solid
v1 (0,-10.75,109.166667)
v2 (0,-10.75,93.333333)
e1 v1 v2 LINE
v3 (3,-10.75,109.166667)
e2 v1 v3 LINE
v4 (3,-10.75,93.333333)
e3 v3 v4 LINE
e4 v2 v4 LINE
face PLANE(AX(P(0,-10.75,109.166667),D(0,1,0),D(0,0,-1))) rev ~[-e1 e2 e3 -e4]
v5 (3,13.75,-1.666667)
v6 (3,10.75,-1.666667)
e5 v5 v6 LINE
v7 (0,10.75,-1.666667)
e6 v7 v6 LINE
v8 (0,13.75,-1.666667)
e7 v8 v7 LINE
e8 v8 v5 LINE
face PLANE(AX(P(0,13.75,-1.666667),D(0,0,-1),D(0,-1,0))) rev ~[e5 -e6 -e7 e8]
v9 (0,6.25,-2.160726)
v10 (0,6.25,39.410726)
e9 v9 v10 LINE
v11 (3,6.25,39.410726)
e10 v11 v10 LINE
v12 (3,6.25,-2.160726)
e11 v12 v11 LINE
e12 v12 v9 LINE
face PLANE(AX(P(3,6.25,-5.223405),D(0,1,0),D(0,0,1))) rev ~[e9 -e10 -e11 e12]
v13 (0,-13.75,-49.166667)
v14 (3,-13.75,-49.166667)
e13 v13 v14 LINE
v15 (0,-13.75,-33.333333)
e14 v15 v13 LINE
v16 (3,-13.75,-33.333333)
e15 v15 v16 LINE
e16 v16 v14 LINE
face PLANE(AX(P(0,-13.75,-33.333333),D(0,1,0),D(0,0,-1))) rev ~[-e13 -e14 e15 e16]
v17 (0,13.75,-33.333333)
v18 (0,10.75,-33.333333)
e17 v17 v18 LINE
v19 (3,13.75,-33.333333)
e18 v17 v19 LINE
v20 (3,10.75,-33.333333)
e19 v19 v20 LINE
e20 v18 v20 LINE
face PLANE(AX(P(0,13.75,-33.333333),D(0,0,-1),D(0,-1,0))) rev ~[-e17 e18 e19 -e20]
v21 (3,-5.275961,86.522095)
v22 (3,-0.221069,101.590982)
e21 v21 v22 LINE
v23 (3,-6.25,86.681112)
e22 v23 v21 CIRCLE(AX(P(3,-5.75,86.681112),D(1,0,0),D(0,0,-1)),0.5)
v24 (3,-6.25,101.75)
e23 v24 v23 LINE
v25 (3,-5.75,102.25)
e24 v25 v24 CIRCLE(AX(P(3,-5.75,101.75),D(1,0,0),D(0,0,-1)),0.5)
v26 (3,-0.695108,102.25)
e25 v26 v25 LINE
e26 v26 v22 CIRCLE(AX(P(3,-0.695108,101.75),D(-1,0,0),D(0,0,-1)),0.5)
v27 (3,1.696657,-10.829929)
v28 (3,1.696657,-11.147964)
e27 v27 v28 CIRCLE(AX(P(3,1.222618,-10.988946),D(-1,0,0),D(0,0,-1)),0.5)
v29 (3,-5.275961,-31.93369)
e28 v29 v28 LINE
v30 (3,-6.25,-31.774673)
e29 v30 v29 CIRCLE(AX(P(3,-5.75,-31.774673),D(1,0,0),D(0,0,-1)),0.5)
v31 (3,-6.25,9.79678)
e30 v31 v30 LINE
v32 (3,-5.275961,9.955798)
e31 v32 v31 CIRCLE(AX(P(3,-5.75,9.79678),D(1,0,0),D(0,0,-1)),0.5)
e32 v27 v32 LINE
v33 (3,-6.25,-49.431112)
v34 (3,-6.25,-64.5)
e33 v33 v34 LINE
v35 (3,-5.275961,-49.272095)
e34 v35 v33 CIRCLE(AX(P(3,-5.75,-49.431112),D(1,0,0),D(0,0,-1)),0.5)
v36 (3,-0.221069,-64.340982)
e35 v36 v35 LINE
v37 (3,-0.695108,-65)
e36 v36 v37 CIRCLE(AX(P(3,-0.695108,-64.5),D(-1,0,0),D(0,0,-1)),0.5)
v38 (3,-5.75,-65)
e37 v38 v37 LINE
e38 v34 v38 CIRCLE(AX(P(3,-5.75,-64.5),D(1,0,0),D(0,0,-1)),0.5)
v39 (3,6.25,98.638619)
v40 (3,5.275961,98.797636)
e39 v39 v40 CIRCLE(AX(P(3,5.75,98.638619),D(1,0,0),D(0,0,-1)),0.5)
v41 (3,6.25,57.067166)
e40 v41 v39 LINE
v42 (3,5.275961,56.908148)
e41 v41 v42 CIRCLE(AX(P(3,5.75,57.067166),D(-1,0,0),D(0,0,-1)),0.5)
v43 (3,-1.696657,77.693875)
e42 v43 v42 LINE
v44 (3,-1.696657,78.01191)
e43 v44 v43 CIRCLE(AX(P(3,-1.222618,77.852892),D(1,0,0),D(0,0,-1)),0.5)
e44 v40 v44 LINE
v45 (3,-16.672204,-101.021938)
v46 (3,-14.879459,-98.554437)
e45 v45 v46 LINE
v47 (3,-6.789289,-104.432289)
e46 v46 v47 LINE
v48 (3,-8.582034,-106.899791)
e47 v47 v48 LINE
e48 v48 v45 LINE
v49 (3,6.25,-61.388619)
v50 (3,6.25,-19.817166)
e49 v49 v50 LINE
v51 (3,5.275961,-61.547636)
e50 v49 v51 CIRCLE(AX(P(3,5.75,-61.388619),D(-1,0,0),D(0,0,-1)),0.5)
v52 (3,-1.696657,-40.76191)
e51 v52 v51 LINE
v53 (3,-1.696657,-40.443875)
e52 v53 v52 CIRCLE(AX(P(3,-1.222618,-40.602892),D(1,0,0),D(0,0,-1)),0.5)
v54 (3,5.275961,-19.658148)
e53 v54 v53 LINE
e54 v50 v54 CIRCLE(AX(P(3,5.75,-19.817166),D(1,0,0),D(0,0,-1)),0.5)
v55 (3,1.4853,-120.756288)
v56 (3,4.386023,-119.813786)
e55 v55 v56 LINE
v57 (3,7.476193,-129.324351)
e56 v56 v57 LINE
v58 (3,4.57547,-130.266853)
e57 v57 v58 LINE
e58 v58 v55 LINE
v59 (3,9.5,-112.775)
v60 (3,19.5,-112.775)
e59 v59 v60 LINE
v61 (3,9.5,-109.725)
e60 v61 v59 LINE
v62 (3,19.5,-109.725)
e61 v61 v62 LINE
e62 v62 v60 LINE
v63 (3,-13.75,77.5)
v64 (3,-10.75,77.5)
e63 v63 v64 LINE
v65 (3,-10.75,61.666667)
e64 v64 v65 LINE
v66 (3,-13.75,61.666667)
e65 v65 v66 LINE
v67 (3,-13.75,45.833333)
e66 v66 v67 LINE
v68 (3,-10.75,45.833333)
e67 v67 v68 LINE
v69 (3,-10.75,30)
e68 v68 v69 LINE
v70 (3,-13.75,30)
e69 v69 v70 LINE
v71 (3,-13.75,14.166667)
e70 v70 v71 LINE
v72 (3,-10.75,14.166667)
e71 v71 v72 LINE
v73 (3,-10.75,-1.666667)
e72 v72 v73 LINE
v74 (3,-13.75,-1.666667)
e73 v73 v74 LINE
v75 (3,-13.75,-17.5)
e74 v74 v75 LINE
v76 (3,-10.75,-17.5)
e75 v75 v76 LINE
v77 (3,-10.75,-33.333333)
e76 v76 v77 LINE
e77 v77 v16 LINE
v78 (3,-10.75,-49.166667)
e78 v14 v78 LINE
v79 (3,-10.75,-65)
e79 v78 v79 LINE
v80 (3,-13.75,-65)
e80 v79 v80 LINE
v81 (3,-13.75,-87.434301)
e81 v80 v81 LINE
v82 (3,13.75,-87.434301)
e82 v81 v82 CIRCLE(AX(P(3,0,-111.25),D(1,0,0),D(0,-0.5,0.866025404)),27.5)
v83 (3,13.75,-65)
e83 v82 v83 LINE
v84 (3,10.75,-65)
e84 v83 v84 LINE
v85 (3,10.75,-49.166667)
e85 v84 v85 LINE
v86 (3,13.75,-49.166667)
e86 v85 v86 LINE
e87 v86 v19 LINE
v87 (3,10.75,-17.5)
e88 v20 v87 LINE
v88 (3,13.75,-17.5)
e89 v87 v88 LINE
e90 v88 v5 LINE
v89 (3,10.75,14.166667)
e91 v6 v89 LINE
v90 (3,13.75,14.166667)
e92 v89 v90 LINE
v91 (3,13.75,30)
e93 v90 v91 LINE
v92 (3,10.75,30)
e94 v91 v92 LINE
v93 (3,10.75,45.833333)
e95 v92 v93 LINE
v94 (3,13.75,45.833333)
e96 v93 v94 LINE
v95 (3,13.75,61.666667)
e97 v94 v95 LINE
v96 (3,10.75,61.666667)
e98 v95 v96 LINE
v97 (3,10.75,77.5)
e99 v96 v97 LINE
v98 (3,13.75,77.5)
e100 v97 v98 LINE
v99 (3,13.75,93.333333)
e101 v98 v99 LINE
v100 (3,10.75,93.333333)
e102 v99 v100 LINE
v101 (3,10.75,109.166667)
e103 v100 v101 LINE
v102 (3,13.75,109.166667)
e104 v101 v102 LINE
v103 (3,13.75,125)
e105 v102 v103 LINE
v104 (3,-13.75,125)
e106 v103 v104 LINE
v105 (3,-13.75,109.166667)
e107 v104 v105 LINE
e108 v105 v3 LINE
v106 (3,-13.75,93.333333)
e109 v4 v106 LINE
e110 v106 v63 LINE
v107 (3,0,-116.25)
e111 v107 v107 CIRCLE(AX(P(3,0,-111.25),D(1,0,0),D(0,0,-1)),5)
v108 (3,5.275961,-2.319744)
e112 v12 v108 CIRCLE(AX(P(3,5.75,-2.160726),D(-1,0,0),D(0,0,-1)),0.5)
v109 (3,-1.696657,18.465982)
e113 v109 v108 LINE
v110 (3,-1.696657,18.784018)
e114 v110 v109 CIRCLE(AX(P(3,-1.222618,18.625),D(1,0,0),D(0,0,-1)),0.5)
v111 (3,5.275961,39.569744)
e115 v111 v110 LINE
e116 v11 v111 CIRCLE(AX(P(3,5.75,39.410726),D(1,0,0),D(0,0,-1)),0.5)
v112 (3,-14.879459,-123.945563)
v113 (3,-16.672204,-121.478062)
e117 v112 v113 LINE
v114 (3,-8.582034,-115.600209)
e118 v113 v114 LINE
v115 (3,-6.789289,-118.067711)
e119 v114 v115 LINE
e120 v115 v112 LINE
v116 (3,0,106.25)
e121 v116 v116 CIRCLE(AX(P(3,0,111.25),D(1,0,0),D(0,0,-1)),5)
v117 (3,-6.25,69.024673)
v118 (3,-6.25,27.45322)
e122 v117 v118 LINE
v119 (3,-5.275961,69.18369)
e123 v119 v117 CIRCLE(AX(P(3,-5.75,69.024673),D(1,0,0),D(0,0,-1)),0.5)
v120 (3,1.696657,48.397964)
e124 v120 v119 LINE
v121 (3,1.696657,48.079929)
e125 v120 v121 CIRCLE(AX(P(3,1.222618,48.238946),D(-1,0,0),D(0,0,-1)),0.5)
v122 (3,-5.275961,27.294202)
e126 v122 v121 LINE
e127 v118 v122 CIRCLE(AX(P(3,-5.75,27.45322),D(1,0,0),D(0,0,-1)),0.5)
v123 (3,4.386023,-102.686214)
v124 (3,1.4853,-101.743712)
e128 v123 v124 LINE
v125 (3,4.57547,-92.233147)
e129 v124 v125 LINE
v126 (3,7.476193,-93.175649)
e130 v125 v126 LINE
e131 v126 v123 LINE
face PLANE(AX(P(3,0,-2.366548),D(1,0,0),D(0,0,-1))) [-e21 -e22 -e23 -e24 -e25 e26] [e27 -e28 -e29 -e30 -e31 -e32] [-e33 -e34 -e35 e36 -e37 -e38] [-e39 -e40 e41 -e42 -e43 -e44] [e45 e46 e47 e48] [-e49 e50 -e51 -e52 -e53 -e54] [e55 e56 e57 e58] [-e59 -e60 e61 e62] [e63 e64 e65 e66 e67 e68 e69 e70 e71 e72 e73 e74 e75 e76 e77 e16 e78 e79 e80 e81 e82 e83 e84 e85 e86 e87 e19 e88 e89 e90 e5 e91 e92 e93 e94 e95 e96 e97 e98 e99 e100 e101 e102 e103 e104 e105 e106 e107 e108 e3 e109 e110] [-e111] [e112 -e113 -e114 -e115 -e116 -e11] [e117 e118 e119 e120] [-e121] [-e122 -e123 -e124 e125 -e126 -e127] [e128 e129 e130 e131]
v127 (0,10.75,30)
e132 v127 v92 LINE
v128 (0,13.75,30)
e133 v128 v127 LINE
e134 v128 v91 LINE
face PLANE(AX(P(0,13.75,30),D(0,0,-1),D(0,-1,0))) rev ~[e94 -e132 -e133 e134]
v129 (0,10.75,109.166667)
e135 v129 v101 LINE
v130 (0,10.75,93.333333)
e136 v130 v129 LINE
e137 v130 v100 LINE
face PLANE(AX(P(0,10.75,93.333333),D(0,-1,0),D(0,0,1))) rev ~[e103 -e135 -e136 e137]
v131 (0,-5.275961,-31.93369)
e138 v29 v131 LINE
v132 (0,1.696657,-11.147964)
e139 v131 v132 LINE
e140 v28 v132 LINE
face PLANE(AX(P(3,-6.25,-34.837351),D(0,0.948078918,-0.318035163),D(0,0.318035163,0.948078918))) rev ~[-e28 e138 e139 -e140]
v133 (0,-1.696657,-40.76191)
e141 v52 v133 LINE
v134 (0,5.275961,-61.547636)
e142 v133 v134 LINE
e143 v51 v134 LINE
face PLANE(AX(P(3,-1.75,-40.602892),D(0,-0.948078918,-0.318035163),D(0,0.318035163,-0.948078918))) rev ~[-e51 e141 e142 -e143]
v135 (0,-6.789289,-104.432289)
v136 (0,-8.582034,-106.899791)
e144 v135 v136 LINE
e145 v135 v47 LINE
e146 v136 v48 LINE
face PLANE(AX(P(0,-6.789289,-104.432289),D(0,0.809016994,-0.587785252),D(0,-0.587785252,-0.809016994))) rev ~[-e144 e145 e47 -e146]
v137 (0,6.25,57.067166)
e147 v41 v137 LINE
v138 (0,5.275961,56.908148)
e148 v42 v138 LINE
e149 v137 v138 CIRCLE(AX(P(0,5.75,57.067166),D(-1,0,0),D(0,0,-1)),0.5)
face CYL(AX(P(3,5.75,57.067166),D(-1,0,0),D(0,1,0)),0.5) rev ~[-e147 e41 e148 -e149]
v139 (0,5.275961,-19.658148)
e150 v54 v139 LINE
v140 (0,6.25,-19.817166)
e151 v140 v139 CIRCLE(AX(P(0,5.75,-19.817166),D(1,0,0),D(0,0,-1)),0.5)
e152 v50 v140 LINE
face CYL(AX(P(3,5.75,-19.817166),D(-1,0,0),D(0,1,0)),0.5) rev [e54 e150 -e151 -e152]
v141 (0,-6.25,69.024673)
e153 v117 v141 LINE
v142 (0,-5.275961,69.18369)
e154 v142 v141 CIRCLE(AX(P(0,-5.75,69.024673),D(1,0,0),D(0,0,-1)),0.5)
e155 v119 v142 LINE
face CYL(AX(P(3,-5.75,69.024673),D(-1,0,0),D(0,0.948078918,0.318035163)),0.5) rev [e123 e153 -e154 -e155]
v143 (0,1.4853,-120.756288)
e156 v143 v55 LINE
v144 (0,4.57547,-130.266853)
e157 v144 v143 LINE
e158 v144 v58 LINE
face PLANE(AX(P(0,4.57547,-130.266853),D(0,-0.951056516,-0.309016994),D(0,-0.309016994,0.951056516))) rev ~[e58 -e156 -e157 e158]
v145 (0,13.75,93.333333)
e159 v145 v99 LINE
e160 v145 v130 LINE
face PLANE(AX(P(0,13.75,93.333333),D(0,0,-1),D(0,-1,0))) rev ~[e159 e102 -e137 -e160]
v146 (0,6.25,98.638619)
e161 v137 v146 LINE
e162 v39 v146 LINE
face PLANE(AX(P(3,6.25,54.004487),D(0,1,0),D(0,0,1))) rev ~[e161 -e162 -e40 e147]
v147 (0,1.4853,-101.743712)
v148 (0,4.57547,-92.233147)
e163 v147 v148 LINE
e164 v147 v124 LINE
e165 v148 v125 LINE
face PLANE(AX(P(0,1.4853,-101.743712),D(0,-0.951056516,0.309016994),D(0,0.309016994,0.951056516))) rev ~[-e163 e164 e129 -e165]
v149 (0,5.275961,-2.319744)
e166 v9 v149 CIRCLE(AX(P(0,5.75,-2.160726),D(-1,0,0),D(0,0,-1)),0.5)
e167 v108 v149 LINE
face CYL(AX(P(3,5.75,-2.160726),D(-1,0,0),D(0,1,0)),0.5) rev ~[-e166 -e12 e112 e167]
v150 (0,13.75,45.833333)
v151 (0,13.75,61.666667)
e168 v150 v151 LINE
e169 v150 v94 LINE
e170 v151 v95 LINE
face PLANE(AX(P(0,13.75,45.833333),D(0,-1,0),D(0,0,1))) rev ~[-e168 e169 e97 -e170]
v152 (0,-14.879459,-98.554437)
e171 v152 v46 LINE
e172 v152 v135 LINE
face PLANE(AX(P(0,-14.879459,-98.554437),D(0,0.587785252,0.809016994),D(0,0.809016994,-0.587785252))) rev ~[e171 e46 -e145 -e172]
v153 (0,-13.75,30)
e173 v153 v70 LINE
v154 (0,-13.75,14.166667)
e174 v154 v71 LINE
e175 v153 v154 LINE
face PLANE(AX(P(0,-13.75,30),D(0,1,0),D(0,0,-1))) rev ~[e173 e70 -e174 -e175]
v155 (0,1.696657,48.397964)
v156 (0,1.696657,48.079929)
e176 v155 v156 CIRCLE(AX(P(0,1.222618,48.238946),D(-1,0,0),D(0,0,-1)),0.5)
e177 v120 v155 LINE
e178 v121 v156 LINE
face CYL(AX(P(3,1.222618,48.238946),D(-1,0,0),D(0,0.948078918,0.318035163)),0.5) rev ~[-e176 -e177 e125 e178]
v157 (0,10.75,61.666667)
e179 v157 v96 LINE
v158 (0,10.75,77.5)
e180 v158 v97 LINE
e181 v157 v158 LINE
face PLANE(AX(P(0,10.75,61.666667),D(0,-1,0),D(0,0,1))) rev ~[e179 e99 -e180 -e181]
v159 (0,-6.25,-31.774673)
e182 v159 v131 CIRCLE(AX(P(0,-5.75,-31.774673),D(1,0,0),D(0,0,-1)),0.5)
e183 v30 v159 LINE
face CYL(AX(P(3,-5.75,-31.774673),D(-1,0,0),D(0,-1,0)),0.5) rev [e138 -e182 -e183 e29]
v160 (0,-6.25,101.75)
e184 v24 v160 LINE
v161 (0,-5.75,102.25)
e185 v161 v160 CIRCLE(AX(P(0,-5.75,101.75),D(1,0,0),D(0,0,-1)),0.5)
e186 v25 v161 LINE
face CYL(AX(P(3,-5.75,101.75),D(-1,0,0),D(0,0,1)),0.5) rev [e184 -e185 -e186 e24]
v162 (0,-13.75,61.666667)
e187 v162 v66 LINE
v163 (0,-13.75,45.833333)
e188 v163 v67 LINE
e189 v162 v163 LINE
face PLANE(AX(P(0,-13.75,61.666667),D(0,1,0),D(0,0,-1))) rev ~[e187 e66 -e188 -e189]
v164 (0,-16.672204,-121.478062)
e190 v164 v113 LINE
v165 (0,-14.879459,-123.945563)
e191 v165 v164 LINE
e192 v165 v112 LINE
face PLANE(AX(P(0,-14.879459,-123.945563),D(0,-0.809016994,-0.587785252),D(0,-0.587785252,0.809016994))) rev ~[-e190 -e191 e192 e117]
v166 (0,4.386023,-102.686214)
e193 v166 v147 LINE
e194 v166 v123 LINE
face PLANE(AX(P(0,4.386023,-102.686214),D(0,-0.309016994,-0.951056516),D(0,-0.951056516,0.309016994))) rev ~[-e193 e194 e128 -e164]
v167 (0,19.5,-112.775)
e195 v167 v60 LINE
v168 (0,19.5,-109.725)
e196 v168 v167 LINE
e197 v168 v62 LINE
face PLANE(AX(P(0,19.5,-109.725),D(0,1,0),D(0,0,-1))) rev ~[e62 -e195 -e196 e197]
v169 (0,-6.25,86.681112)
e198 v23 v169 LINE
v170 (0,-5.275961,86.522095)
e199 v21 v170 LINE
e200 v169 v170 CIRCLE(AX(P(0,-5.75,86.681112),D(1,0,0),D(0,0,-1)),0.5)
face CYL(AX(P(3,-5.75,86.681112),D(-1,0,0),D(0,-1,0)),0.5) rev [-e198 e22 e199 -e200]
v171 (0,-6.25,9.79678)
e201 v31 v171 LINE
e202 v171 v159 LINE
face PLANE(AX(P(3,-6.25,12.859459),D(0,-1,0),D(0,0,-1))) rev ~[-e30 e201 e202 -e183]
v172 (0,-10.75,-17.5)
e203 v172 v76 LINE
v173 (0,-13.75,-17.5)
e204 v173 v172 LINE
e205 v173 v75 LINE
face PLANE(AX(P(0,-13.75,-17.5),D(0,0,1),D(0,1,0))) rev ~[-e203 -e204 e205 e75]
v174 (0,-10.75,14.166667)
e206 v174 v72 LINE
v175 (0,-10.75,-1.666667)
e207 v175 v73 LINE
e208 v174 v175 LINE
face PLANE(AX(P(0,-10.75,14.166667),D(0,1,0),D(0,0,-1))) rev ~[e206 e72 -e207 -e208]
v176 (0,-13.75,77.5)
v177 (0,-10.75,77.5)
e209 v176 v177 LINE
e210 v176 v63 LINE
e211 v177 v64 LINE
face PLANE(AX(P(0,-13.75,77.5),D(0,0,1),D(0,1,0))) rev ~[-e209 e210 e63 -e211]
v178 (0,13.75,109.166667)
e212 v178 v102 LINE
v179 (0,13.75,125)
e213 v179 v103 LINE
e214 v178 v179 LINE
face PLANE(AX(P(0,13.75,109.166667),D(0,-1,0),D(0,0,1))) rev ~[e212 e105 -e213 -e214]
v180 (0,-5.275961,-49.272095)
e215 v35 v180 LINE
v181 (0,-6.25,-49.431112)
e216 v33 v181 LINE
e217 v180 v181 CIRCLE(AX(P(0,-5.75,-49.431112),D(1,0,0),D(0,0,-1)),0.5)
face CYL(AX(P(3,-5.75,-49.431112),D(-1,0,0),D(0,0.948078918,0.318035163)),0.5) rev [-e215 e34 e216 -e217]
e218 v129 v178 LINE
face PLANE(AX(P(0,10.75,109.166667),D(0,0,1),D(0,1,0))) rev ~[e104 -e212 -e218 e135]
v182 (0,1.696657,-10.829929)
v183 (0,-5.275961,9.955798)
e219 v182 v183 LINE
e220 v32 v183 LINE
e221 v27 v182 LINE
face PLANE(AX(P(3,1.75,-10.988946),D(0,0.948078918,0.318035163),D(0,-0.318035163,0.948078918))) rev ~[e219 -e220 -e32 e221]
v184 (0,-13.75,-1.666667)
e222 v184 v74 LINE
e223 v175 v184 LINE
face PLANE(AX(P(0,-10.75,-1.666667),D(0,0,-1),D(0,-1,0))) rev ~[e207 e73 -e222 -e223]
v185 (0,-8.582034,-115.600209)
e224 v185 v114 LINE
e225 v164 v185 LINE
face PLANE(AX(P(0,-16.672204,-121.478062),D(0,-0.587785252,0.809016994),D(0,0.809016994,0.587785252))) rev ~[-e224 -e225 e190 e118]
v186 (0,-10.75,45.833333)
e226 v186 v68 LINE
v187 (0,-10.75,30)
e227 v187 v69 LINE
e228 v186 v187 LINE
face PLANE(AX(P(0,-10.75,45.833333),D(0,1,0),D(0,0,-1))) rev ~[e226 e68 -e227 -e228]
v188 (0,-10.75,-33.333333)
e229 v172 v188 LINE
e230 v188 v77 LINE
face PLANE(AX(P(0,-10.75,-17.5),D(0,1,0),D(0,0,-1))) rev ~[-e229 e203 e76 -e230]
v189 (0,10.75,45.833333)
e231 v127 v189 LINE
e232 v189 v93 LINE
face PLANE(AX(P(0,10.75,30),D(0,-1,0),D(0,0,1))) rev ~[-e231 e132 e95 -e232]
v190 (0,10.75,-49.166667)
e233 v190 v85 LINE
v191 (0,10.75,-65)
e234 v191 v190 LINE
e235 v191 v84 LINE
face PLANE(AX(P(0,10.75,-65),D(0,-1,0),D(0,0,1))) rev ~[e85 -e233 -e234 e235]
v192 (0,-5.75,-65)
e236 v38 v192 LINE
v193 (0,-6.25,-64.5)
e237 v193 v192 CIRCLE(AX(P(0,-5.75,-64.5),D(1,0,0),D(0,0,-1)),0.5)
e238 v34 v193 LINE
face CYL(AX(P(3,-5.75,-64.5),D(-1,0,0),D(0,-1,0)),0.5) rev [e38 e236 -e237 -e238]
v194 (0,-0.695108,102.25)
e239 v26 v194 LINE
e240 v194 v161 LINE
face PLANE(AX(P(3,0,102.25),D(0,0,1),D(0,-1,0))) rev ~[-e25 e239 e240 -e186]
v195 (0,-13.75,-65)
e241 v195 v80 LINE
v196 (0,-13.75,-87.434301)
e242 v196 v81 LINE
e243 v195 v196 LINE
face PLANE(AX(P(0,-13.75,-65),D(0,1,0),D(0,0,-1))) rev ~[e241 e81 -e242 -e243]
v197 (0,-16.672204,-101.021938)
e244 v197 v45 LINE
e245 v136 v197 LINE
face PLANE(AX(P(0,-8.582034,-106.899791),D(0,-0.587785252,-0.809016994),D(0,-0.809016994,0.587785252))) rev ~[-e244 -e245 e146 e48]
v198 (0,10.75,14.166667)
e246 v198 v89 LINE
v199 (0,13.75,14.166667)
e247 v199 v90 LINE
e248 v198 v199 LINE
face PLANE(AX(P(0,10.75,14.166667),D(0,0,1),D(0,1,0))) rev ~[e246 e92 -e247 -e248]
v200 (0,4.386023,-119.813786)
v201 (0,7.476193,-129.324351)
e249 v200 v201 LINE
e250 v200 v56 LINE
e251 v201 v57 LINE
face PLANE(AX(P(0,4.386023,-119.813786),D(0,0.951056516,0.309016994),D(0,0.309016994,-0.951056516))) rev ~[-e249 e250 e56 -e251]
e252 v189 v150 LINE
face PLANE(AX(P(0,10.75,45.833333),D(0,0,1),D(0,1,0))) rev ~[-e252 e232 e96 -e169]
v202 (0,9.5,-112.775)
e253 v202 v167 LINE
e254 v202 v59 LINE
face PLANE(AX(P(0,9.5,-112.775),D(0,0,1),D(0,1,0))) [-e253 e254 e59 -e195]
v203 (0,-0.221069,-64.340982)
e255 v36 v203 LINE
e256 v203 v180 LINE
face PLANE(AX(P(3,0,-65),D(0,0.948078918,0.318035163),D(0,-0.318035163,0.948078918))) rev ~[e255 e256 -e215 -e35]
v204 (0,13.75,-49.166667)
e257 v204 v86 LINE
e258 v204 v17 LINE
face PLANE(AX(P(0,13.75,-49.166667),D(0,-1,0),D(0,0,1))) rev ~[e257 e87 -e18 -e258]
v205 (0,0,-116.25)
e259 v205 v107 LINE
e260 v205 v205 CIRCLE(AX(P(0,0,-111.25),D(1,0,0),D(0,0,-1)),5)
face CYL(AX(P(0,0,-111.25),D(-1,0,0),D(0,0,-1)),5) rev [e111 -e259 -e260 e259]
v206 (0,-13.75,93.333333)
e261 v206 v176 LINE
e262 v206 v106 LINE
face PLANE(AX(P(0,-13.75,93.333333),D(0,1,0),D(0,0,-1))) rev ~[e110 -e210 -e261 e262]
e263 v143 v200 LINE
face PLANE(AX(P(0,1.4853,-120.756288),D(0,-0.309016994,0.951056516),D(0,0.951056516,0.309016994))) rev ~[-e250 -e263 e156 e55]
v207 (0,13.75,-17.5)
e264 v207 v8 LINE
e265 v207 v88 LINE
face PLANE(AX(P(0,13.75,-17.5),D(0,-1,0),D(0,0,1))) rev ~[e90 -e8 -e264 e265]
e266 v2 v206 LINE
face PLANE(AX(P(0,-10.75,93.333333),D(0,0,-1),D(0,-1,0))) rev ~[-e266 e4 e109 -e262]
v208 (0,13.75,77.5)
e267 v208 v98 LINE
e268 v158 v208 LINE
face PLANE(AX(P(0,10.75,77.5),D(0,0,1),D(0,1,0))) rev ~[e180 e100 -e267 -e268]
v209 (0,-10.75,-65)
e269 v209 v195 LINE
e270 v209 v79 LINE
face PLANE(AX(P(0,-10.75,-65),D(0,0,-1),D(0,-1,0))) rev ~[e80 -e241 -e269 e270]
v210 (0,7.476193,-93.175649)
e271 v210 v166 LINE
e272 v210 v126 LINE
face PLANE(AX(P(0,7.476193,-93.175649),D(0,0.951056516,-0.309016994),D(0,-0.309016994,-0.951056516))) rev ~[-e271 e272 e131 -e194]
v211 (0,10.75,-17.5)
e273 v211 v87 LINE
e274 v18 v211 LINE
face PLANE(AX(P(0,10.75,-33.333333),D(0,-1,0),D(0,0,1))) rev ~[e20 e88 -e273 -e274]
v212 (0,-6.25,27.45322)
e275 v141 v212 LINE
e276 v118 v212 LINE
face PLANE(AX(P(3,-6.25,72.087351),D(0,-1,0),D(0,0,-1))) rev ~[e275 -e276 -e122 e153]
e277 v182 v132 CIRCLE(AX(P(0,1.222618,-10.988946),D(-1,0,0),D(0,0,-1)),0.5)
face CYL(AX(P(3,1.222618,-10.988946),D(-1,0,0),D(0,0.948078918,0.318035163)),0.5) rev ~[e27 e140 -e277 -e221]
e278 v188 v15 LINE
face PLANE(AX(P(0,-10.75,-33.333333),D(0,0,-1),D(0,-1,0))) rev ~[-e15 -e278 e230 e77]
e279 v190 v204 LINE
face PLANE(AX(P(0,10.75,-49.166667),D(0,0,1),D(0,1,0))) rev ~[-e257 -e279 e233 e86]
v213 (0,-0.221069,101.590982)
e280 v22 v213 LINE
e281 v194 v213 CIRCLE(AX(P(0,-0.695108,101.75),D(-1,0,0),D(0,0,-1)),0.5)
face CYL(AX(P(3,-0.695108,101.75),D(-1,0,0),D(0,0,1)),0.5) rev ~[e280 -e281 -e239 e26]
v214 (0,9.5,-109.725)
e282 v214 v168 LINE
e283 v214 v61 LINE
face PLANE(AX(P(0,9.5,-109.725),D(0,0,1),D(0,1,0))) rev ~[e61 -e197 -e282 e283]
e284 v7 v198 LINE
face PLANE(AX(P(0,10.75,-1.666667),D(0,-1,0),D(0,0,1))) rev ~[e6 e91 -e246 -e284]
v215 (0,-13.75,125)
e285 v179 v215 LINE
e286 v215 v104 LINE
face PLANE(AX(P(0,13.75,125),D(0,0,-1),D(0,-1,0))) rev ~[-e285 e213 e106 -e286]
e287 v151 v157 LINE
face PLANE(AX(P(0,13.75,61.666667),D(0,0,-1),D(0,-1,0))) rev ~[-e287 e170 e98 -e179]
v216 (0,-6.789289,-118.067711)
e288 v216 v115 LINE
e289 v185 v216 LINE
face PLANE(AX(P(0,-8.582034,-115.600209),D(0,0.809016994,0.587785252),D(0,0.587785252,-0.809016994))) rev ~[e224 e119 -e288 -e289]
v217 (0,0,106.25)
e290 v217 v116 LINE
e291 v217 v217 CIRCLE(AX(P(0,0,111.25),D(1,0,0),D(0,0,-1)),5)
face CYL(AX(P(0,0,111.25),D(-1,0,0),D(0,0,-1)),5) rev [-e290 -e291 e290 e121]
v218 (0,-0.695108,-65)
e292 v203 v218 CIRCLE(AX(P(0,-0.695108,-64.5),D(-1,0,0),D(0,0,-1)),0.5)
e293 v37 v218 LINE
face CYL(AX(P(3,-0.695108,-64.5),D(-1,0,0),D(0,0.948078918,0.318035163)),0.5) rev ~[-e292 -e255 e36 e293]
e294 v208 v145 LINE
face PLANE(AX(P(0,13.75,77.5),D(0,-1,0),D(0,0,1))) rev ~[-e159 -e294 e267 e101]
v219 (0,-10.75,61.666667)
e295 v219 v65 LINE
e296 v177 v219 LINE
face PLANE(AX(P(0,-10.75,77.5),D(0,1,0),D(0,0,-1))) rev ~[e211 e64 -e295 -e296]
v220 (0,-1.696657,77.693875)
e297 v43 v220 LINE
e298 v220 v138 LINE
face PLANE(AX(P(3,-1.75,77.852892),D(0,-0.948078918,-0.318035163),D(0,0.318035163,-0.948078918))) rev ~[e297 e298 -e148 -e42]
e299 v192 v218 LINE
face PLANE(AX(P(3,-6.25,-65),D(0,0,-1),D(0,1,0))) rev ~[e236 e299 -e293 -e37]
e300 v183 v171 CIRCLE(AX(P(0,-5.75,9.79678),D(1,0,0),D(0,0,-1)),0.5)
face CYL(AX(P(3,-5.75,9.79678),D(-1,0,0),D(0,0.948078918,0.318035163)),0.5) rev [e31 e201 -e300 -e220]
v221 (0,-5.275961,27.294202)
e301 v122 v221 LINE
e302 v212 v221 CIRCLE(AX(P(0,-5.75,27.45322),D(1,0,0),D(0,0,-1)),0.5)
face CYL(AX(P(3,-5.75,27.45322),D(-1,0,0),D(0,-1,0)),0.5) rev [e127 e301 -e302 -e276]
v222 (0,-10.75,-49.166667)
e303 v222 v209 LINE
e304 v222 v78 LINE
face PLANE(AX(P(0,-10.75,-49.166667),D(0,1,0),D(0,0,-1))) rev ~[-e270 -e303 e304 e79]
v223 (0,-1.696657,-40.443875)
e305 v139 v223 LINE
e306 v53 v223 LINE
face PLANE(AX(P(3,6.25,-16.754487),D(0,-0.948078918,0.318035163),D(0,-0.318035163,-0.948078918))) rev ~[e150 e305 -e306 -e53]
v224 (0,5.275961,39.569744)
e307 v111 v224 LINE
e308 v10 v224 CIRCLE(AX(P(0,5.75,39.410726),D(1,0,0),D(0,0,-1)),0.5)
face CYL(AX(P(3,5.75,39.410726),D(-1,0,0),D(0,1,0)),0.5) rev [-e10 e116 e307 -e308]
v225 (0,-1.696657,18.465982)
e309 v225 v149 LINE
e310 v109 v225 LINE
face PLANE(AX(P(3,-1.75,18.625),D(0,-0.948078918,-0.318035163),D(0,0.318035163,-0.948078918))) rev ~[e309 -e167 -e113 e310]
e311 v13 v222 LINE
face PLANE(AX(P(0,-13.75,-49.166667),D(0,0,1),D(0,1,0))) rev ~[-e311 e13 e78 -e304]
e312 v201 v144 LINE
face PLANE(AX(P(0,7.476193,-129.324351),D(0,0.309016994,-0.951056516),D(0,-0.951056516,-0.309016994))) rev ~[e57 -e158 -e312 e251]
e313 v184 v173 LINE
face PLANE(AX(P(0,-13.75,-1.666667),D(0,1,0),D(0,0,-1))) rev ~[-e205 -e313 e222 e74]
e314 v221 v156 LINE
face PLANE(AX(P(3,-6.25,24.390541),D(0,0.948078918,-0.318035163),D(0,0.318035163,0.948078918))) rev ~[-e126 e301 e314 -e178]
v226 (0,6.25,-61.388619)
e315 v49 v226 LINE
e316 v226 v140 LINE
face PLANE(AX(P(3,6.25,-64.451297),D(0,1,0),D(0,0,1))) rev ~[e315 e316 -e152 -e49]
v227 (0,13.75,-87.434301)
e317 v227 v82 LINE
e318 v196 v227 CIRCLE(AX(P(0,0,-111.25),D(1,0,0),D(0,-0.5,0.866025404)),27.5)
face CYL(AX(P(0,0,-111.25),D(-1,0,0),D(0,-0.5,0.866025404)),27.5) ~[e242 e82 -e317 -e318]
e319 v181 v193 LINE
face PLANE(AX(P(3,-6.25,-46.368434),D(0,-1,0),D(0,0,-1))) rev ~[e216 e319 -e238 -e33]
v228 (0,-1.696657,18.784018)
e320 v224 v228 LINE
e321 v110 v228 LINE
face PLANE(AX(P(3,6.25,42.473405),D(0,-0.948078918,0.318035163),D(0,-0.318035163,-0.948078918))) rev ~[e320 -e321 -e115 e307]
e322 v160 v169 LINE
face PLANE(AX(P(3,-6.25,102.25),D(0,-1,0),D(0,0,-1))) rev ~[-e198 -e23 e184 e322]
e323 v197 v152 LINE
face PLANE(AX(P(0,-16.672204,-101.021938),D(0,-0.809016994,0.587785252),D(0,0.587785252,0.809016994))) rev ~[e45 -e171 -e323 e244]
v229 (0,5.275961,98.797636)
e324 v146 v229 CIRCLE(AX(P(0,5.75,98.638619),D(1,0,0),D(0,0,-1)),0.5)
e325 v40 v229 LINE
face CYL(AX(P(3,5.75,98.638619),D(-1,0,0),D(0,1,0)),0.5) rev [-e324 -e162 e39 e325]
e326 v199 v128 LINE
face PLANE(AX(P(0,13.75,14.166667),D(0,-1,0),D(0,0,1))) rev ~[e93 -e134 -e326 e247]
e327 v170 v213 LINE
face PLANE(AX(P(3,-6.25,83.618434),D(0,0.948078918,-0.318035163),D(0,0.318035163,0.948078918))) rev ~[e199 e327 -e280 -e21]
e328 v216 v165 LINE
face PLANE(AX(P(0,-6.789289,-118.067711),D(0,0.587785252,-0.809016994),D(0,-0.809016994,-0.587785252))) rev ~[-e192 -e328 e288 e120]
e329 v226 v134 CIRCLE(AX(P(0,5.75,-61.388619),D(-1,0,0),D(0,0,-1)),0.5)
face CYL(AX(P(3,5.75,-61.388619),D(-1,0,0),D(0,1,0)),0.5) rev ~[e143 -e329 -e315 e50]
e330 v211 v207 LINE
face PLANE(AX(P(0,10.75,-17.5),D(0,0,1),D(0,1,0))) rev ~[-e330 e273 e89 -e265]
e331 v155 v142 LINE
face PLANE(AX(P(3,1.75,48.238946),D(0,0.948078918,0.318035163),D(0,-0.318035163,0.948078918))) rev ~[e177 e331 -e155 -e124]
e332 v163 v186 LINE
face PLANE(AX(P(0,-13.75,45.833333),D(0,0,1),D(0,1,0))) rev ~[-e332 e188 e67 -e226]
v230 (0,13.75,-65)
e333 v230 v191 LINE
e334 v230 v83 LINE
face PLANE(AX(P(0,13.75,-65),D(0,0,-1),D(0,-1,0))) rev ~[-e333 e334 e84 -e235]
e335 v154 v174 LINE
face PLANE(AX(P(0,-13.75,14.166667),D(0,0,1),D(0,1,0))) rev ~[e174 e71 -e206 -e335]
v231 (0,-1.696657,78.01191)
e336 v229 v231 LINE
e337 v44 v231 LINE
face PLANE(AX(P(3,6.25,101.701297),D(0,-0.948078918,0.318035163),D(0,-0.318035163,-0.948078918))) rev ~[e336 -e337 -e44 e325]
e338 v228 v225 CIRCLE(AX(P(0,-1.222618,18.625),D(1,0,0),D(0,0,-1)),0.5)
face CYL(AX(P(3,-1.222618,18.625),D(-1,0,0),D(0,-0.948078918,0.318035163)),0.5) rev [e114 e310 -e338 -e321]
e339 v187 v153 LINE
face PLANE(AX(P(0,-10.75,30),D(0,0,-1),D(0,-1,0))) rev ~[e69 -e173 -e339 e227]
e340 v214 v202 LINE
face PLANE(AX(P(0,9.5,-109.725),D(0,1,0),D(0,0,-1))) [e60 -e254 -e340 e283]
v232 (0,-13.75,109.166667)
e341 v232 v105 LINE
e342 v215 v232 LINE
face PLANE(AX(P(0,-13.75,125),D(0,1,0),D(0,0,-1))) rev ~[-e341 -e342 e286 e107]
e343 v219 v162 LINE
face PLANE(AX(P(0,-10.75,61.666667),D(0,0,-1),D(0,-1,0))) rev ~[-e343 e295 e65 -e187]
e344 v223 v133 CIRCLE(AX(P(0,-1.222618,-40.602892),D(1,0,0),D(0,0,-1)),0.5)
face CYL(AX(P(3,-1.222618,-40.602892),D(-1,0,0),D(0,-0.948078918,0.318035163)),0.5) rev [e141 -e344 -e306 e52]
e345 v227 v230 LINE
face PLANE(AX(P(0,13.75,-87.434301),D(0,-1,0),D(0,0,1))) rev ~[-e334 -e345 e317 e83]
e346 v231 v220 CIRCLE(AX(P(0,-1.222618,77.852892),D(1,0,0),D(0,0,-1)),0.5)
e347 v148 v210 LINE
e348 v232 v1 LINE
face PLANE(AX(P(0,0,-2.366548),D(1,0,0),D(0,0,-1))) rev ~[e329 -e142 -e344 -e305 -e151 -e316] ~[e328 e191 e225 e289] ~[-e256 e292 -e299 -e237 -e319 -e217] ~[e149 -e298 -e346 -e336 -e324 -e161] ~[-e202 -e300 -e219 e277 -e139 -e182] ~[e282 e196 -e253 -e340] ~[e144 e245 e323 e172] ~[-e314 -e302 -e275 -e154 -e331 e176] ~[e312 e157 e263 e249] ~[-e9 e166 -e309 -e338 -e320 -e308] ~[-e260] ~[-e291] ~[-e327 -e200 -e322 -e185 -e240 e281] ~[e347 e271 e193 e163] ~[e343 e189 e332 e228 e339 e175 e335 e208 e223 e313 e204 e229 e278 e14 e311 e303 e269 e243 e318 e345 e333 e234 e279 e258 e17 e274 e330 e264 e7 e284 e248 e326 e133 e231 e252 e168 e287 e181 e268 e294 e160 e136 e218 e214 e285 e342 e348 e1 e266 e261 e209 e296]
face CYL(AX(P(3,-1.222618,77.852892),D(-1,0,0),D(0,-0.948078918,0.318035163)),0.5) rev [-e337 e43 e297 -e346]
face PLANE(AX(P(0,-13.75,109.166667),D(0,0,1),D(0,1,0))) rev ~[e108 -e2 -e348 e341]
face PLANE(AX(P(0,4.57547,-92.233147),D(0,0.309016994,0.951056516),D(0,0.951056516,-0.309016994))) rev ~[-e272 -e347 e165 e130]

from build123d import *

# Parameters (mm, degrees)
SKETCH1_W           = 3.05
SKETCH1_H           = 10
SKETCH1_R           = 5
BOSS_EXTRUDE1_DEPTH = 3
CUT_EXTRUDE1_DEPTH  = 3
FILLET1_R           = 0.5


with BuildPart() as part:
    # Sketch1 → Boss-Extrude1 (new body)
    with BuildSketch(Plane(origin=(0, 0, 0), x_dir=(0, 0, -1), z_dir=(1, 0, 0))):
        with BuildLine():
            Line((-125, 13.75), (-125, -13.75))
            Line((-125, -13.75), (-109.166666667, -13.75))
            Line((-109.166666667, -13.75), (-109.166666667, -10.75))
            Line((-109.166666667, -10.75), (-93.333333333, -10.75))
            Line((-93.333333333, -10.75), (-93.333333333, -13.75))
            Line((-93.333333333, -13.75), (-77.5, -13.75))
            Line((-77.5, -13.75), (-77.5, -10.75))
            Line((-77.5, -10.75), (-61.666666667, -10.75))
            Line((-61.666666667, -10.75), (-61.666666667, -13.75))
            Line((-61.666666667, -13.75), (-45.833333333, -13.75))
            Line((-45.833333333, -13.75), (-45.833333333, -10.75))
            Line((-45.833333333, -10.75), (-30, -10.75))
            Line((-30, -10.75), (-30, -13.75))
            Line((-30, -13.75), (-14.166666667, -13.75))
            Line((-14.166666667, -13.75), (-14.166666667, -10.75))
            Line((-14.166666667, -10.75), (1.666666667, -10.75))
            Line((1.666666667, -10.75), (1.666666667, -13.75))
            Line((1.666666667, -13.75), (17.5, -13.75))
            Line((17.5, -13.75), (17.5, -10.75))
            Line((17.5, -10.75), (33.333333333, -10.75))
            Line((33.333333333, -10.75), (33.333333333, -13.75))
            Line((33.333333333, -13.75), (49.166666667, -13.75))
            Line((49.166666667, -13.75), (49.166666667, -10.75))
            Line((49.166666667, -10.75), (65, -10.75))
            Line((65, -10.75), (65, -13.75))
            Line((65, -13.75), (87.434301396, -13.75))
            ThreePointArc((87.434301396, -13.75), (138.75, 0), (87.434301396, 13.75))
            Line((87.434301396, 13.75), (65, 13.75))
            Line((65, 13.75), (65, 10.75))
            Line((65, 10.75), (49.166666667, 10.75))
            Line((49.166666667, 10.75), (49.166666667, 13.75))
            Line((49.166666667, 13.75), (33.333333333, 13.75))
            Line((33.333333333, 13.75), (33.333333333, 10.75))
            Line((33.333333333, 10.75), (17.5, 10.75))
            Line((17.5, 10.75), (17.5, 13.75))
            Line((17.5, 13.75), (1.666666667, 13.75))
            Line((1.666666667, 13.75), (1.666666667, 10.75))
            Line((1.666666667, 10.75), (-14.166666667, 10.75))
            Line((-14.166666667, 10.75), (-14.166666667, 13.75))
            Line((-14.166666667, 13.75), (-30, 13.75))
            Line((-30, 13.75), (-30, 10.75))
            Line((-30, 10.75), (-45.833333333, 10.75))
            Line((-45.833333333, 10.75), (-45.833333333, 13.75))
            Line((-45.833333333, 13.75), (-61.666666667, 13.75))
            Line((-61.666666667, 13.75), (-61.666666667, 10.75))
            Line((-61.666666667, 10.75), (-77.5, 10.75))
            Line((-77.5, 10.75), (-77.5, 13.75))
            Line((-77.5, 13.75), (-93.333333333, 13.75))
            Line((-93.333333333, 13.75), (-93.333333333, 10.75))
            Line((-93.333333333, 10.75), (-109.166666667, 10.75))
            Line((-109.166666667, 10.75), (-109.166666667, 13.75))
            Line((-109.166666667, 13.75), (-125, 13.75))
        make_face()
        Polygon((104.432289187, -6.789288937), (106.89979102, -8.582033956), (101.021938497, -16.6722039), (98.554436664, -14.879458881), align=None, mode=Mode.SUBTRACT)
        Polygon((115.60020898, -8.582033956), (118.067710813, -6.789288937), (123.945563336, -14.879458881), (121.478061503, -16.6722039), align=None, mode=Mode.SUBTRACT)
        Polygon((120.756287821, 1.485300259), (119.813785988, 4.386022634), (129.324351151, 7.476192578), (130.266852984, 4.575470203), align=None, mode=Mode.SUBTRACT)
        with Locations((111.25, 14.5)):
            Rectangle(SKETCH1_W, SKETCH1_H, mode=Mode.SUBTRACT)
        with Locations((-111.25, 0)):
            Circle(SKETCH1_R, mode=Mode.SUBTRACT)
        with Locations((111.25, 0)):
            Circle(SKETCH1_R, mode=Mode.SUBTRACT)
        Polygon((102.686214012, 4.386022634), (101.743712179, 1.485300259), (92.233147016, 4.575470203), (93.175648849, 7.476192578), align=None, mode=Mode.SUBTRACT)
    extrude(amount=BOSS_EXTRUDE1_DEPTH)

    # Sketch3 → Cut-Extrude1 (cut)
    with BuildSketch(Plane(origin=(3, 0, 0), x_dir=(0, 0, -1), z_dir=(1, 0, 0))):
        Polygon((-102.25, 0), (-102.25, -6.25), (-83.618433679, -6.25), align=None)
        Polygon((-54.004487489, 6.25), (-101.701297271, 6.25), (-77.85289238, -1.75), align=None)
        Polygon((-48.23894619, 1.75), (-72.087351081, -6.25), (-24.390541299, -6.25), align=None)
        Polygon((5.223404891, 6.25), (-42.473404891, 6.25), (-18.625, -1.75), align=None)
        Polygon((10.98894619, 1.75), (-12.859458701, -6.25), (34.837351081, -6.25), align=None)
        Polygon((64.451297271, 6.25), (16.754487489, 6.25), (40.60289238, -1.75), align=None)
        Polygon((65, 0), (46.368433679, -6.25), (65, -6.25), align=None)
    extrude(amount=-CUT_EXTRUDE1_DEPTH, mode=Mode.SUBTRACT)

    # Fillet1
    fillet1_edges = [part.edges().sort_by_distance(p)[0] for p in [
        (1.5, -1.75, 18.625),
        (1.5, 6.25, 42.473404891),
        (1.5, 6.25, -5.223404891),
        (1.5, 1.75, -10.98894619),
        (1.5, -6.25, -34.837351081),
        (1.5, -6.25, 12.859458701),
        (1.5, -1.75, 77.85289238),
        (1.5, 6.25, 101.701297271),
        (1.5, 6.25, 54.004487489),
        (1.5, 1.75, 48.23894619),
        (1.5, -6.25, 24.390541299),
        (1.5, -6.25, 72.087351081),
        (1.5, -6.25, -46.368433679),
        (1.5, 0, -65),
        (1.5, -6.25, -65),
        (1.5, -1.75, -40.60289238),
        (1.5, 6.25, -16.754487489),
        (1.5, 6.25, -64.451297271),
        (1.5, 0, 102.25),
        (1.5, -6.25, 83.618433679),
        (1.5, -6.25, 102.25),
    ]]
    fillet(fillet1_edges, radius=FILLET1_R)


solid = part.part
